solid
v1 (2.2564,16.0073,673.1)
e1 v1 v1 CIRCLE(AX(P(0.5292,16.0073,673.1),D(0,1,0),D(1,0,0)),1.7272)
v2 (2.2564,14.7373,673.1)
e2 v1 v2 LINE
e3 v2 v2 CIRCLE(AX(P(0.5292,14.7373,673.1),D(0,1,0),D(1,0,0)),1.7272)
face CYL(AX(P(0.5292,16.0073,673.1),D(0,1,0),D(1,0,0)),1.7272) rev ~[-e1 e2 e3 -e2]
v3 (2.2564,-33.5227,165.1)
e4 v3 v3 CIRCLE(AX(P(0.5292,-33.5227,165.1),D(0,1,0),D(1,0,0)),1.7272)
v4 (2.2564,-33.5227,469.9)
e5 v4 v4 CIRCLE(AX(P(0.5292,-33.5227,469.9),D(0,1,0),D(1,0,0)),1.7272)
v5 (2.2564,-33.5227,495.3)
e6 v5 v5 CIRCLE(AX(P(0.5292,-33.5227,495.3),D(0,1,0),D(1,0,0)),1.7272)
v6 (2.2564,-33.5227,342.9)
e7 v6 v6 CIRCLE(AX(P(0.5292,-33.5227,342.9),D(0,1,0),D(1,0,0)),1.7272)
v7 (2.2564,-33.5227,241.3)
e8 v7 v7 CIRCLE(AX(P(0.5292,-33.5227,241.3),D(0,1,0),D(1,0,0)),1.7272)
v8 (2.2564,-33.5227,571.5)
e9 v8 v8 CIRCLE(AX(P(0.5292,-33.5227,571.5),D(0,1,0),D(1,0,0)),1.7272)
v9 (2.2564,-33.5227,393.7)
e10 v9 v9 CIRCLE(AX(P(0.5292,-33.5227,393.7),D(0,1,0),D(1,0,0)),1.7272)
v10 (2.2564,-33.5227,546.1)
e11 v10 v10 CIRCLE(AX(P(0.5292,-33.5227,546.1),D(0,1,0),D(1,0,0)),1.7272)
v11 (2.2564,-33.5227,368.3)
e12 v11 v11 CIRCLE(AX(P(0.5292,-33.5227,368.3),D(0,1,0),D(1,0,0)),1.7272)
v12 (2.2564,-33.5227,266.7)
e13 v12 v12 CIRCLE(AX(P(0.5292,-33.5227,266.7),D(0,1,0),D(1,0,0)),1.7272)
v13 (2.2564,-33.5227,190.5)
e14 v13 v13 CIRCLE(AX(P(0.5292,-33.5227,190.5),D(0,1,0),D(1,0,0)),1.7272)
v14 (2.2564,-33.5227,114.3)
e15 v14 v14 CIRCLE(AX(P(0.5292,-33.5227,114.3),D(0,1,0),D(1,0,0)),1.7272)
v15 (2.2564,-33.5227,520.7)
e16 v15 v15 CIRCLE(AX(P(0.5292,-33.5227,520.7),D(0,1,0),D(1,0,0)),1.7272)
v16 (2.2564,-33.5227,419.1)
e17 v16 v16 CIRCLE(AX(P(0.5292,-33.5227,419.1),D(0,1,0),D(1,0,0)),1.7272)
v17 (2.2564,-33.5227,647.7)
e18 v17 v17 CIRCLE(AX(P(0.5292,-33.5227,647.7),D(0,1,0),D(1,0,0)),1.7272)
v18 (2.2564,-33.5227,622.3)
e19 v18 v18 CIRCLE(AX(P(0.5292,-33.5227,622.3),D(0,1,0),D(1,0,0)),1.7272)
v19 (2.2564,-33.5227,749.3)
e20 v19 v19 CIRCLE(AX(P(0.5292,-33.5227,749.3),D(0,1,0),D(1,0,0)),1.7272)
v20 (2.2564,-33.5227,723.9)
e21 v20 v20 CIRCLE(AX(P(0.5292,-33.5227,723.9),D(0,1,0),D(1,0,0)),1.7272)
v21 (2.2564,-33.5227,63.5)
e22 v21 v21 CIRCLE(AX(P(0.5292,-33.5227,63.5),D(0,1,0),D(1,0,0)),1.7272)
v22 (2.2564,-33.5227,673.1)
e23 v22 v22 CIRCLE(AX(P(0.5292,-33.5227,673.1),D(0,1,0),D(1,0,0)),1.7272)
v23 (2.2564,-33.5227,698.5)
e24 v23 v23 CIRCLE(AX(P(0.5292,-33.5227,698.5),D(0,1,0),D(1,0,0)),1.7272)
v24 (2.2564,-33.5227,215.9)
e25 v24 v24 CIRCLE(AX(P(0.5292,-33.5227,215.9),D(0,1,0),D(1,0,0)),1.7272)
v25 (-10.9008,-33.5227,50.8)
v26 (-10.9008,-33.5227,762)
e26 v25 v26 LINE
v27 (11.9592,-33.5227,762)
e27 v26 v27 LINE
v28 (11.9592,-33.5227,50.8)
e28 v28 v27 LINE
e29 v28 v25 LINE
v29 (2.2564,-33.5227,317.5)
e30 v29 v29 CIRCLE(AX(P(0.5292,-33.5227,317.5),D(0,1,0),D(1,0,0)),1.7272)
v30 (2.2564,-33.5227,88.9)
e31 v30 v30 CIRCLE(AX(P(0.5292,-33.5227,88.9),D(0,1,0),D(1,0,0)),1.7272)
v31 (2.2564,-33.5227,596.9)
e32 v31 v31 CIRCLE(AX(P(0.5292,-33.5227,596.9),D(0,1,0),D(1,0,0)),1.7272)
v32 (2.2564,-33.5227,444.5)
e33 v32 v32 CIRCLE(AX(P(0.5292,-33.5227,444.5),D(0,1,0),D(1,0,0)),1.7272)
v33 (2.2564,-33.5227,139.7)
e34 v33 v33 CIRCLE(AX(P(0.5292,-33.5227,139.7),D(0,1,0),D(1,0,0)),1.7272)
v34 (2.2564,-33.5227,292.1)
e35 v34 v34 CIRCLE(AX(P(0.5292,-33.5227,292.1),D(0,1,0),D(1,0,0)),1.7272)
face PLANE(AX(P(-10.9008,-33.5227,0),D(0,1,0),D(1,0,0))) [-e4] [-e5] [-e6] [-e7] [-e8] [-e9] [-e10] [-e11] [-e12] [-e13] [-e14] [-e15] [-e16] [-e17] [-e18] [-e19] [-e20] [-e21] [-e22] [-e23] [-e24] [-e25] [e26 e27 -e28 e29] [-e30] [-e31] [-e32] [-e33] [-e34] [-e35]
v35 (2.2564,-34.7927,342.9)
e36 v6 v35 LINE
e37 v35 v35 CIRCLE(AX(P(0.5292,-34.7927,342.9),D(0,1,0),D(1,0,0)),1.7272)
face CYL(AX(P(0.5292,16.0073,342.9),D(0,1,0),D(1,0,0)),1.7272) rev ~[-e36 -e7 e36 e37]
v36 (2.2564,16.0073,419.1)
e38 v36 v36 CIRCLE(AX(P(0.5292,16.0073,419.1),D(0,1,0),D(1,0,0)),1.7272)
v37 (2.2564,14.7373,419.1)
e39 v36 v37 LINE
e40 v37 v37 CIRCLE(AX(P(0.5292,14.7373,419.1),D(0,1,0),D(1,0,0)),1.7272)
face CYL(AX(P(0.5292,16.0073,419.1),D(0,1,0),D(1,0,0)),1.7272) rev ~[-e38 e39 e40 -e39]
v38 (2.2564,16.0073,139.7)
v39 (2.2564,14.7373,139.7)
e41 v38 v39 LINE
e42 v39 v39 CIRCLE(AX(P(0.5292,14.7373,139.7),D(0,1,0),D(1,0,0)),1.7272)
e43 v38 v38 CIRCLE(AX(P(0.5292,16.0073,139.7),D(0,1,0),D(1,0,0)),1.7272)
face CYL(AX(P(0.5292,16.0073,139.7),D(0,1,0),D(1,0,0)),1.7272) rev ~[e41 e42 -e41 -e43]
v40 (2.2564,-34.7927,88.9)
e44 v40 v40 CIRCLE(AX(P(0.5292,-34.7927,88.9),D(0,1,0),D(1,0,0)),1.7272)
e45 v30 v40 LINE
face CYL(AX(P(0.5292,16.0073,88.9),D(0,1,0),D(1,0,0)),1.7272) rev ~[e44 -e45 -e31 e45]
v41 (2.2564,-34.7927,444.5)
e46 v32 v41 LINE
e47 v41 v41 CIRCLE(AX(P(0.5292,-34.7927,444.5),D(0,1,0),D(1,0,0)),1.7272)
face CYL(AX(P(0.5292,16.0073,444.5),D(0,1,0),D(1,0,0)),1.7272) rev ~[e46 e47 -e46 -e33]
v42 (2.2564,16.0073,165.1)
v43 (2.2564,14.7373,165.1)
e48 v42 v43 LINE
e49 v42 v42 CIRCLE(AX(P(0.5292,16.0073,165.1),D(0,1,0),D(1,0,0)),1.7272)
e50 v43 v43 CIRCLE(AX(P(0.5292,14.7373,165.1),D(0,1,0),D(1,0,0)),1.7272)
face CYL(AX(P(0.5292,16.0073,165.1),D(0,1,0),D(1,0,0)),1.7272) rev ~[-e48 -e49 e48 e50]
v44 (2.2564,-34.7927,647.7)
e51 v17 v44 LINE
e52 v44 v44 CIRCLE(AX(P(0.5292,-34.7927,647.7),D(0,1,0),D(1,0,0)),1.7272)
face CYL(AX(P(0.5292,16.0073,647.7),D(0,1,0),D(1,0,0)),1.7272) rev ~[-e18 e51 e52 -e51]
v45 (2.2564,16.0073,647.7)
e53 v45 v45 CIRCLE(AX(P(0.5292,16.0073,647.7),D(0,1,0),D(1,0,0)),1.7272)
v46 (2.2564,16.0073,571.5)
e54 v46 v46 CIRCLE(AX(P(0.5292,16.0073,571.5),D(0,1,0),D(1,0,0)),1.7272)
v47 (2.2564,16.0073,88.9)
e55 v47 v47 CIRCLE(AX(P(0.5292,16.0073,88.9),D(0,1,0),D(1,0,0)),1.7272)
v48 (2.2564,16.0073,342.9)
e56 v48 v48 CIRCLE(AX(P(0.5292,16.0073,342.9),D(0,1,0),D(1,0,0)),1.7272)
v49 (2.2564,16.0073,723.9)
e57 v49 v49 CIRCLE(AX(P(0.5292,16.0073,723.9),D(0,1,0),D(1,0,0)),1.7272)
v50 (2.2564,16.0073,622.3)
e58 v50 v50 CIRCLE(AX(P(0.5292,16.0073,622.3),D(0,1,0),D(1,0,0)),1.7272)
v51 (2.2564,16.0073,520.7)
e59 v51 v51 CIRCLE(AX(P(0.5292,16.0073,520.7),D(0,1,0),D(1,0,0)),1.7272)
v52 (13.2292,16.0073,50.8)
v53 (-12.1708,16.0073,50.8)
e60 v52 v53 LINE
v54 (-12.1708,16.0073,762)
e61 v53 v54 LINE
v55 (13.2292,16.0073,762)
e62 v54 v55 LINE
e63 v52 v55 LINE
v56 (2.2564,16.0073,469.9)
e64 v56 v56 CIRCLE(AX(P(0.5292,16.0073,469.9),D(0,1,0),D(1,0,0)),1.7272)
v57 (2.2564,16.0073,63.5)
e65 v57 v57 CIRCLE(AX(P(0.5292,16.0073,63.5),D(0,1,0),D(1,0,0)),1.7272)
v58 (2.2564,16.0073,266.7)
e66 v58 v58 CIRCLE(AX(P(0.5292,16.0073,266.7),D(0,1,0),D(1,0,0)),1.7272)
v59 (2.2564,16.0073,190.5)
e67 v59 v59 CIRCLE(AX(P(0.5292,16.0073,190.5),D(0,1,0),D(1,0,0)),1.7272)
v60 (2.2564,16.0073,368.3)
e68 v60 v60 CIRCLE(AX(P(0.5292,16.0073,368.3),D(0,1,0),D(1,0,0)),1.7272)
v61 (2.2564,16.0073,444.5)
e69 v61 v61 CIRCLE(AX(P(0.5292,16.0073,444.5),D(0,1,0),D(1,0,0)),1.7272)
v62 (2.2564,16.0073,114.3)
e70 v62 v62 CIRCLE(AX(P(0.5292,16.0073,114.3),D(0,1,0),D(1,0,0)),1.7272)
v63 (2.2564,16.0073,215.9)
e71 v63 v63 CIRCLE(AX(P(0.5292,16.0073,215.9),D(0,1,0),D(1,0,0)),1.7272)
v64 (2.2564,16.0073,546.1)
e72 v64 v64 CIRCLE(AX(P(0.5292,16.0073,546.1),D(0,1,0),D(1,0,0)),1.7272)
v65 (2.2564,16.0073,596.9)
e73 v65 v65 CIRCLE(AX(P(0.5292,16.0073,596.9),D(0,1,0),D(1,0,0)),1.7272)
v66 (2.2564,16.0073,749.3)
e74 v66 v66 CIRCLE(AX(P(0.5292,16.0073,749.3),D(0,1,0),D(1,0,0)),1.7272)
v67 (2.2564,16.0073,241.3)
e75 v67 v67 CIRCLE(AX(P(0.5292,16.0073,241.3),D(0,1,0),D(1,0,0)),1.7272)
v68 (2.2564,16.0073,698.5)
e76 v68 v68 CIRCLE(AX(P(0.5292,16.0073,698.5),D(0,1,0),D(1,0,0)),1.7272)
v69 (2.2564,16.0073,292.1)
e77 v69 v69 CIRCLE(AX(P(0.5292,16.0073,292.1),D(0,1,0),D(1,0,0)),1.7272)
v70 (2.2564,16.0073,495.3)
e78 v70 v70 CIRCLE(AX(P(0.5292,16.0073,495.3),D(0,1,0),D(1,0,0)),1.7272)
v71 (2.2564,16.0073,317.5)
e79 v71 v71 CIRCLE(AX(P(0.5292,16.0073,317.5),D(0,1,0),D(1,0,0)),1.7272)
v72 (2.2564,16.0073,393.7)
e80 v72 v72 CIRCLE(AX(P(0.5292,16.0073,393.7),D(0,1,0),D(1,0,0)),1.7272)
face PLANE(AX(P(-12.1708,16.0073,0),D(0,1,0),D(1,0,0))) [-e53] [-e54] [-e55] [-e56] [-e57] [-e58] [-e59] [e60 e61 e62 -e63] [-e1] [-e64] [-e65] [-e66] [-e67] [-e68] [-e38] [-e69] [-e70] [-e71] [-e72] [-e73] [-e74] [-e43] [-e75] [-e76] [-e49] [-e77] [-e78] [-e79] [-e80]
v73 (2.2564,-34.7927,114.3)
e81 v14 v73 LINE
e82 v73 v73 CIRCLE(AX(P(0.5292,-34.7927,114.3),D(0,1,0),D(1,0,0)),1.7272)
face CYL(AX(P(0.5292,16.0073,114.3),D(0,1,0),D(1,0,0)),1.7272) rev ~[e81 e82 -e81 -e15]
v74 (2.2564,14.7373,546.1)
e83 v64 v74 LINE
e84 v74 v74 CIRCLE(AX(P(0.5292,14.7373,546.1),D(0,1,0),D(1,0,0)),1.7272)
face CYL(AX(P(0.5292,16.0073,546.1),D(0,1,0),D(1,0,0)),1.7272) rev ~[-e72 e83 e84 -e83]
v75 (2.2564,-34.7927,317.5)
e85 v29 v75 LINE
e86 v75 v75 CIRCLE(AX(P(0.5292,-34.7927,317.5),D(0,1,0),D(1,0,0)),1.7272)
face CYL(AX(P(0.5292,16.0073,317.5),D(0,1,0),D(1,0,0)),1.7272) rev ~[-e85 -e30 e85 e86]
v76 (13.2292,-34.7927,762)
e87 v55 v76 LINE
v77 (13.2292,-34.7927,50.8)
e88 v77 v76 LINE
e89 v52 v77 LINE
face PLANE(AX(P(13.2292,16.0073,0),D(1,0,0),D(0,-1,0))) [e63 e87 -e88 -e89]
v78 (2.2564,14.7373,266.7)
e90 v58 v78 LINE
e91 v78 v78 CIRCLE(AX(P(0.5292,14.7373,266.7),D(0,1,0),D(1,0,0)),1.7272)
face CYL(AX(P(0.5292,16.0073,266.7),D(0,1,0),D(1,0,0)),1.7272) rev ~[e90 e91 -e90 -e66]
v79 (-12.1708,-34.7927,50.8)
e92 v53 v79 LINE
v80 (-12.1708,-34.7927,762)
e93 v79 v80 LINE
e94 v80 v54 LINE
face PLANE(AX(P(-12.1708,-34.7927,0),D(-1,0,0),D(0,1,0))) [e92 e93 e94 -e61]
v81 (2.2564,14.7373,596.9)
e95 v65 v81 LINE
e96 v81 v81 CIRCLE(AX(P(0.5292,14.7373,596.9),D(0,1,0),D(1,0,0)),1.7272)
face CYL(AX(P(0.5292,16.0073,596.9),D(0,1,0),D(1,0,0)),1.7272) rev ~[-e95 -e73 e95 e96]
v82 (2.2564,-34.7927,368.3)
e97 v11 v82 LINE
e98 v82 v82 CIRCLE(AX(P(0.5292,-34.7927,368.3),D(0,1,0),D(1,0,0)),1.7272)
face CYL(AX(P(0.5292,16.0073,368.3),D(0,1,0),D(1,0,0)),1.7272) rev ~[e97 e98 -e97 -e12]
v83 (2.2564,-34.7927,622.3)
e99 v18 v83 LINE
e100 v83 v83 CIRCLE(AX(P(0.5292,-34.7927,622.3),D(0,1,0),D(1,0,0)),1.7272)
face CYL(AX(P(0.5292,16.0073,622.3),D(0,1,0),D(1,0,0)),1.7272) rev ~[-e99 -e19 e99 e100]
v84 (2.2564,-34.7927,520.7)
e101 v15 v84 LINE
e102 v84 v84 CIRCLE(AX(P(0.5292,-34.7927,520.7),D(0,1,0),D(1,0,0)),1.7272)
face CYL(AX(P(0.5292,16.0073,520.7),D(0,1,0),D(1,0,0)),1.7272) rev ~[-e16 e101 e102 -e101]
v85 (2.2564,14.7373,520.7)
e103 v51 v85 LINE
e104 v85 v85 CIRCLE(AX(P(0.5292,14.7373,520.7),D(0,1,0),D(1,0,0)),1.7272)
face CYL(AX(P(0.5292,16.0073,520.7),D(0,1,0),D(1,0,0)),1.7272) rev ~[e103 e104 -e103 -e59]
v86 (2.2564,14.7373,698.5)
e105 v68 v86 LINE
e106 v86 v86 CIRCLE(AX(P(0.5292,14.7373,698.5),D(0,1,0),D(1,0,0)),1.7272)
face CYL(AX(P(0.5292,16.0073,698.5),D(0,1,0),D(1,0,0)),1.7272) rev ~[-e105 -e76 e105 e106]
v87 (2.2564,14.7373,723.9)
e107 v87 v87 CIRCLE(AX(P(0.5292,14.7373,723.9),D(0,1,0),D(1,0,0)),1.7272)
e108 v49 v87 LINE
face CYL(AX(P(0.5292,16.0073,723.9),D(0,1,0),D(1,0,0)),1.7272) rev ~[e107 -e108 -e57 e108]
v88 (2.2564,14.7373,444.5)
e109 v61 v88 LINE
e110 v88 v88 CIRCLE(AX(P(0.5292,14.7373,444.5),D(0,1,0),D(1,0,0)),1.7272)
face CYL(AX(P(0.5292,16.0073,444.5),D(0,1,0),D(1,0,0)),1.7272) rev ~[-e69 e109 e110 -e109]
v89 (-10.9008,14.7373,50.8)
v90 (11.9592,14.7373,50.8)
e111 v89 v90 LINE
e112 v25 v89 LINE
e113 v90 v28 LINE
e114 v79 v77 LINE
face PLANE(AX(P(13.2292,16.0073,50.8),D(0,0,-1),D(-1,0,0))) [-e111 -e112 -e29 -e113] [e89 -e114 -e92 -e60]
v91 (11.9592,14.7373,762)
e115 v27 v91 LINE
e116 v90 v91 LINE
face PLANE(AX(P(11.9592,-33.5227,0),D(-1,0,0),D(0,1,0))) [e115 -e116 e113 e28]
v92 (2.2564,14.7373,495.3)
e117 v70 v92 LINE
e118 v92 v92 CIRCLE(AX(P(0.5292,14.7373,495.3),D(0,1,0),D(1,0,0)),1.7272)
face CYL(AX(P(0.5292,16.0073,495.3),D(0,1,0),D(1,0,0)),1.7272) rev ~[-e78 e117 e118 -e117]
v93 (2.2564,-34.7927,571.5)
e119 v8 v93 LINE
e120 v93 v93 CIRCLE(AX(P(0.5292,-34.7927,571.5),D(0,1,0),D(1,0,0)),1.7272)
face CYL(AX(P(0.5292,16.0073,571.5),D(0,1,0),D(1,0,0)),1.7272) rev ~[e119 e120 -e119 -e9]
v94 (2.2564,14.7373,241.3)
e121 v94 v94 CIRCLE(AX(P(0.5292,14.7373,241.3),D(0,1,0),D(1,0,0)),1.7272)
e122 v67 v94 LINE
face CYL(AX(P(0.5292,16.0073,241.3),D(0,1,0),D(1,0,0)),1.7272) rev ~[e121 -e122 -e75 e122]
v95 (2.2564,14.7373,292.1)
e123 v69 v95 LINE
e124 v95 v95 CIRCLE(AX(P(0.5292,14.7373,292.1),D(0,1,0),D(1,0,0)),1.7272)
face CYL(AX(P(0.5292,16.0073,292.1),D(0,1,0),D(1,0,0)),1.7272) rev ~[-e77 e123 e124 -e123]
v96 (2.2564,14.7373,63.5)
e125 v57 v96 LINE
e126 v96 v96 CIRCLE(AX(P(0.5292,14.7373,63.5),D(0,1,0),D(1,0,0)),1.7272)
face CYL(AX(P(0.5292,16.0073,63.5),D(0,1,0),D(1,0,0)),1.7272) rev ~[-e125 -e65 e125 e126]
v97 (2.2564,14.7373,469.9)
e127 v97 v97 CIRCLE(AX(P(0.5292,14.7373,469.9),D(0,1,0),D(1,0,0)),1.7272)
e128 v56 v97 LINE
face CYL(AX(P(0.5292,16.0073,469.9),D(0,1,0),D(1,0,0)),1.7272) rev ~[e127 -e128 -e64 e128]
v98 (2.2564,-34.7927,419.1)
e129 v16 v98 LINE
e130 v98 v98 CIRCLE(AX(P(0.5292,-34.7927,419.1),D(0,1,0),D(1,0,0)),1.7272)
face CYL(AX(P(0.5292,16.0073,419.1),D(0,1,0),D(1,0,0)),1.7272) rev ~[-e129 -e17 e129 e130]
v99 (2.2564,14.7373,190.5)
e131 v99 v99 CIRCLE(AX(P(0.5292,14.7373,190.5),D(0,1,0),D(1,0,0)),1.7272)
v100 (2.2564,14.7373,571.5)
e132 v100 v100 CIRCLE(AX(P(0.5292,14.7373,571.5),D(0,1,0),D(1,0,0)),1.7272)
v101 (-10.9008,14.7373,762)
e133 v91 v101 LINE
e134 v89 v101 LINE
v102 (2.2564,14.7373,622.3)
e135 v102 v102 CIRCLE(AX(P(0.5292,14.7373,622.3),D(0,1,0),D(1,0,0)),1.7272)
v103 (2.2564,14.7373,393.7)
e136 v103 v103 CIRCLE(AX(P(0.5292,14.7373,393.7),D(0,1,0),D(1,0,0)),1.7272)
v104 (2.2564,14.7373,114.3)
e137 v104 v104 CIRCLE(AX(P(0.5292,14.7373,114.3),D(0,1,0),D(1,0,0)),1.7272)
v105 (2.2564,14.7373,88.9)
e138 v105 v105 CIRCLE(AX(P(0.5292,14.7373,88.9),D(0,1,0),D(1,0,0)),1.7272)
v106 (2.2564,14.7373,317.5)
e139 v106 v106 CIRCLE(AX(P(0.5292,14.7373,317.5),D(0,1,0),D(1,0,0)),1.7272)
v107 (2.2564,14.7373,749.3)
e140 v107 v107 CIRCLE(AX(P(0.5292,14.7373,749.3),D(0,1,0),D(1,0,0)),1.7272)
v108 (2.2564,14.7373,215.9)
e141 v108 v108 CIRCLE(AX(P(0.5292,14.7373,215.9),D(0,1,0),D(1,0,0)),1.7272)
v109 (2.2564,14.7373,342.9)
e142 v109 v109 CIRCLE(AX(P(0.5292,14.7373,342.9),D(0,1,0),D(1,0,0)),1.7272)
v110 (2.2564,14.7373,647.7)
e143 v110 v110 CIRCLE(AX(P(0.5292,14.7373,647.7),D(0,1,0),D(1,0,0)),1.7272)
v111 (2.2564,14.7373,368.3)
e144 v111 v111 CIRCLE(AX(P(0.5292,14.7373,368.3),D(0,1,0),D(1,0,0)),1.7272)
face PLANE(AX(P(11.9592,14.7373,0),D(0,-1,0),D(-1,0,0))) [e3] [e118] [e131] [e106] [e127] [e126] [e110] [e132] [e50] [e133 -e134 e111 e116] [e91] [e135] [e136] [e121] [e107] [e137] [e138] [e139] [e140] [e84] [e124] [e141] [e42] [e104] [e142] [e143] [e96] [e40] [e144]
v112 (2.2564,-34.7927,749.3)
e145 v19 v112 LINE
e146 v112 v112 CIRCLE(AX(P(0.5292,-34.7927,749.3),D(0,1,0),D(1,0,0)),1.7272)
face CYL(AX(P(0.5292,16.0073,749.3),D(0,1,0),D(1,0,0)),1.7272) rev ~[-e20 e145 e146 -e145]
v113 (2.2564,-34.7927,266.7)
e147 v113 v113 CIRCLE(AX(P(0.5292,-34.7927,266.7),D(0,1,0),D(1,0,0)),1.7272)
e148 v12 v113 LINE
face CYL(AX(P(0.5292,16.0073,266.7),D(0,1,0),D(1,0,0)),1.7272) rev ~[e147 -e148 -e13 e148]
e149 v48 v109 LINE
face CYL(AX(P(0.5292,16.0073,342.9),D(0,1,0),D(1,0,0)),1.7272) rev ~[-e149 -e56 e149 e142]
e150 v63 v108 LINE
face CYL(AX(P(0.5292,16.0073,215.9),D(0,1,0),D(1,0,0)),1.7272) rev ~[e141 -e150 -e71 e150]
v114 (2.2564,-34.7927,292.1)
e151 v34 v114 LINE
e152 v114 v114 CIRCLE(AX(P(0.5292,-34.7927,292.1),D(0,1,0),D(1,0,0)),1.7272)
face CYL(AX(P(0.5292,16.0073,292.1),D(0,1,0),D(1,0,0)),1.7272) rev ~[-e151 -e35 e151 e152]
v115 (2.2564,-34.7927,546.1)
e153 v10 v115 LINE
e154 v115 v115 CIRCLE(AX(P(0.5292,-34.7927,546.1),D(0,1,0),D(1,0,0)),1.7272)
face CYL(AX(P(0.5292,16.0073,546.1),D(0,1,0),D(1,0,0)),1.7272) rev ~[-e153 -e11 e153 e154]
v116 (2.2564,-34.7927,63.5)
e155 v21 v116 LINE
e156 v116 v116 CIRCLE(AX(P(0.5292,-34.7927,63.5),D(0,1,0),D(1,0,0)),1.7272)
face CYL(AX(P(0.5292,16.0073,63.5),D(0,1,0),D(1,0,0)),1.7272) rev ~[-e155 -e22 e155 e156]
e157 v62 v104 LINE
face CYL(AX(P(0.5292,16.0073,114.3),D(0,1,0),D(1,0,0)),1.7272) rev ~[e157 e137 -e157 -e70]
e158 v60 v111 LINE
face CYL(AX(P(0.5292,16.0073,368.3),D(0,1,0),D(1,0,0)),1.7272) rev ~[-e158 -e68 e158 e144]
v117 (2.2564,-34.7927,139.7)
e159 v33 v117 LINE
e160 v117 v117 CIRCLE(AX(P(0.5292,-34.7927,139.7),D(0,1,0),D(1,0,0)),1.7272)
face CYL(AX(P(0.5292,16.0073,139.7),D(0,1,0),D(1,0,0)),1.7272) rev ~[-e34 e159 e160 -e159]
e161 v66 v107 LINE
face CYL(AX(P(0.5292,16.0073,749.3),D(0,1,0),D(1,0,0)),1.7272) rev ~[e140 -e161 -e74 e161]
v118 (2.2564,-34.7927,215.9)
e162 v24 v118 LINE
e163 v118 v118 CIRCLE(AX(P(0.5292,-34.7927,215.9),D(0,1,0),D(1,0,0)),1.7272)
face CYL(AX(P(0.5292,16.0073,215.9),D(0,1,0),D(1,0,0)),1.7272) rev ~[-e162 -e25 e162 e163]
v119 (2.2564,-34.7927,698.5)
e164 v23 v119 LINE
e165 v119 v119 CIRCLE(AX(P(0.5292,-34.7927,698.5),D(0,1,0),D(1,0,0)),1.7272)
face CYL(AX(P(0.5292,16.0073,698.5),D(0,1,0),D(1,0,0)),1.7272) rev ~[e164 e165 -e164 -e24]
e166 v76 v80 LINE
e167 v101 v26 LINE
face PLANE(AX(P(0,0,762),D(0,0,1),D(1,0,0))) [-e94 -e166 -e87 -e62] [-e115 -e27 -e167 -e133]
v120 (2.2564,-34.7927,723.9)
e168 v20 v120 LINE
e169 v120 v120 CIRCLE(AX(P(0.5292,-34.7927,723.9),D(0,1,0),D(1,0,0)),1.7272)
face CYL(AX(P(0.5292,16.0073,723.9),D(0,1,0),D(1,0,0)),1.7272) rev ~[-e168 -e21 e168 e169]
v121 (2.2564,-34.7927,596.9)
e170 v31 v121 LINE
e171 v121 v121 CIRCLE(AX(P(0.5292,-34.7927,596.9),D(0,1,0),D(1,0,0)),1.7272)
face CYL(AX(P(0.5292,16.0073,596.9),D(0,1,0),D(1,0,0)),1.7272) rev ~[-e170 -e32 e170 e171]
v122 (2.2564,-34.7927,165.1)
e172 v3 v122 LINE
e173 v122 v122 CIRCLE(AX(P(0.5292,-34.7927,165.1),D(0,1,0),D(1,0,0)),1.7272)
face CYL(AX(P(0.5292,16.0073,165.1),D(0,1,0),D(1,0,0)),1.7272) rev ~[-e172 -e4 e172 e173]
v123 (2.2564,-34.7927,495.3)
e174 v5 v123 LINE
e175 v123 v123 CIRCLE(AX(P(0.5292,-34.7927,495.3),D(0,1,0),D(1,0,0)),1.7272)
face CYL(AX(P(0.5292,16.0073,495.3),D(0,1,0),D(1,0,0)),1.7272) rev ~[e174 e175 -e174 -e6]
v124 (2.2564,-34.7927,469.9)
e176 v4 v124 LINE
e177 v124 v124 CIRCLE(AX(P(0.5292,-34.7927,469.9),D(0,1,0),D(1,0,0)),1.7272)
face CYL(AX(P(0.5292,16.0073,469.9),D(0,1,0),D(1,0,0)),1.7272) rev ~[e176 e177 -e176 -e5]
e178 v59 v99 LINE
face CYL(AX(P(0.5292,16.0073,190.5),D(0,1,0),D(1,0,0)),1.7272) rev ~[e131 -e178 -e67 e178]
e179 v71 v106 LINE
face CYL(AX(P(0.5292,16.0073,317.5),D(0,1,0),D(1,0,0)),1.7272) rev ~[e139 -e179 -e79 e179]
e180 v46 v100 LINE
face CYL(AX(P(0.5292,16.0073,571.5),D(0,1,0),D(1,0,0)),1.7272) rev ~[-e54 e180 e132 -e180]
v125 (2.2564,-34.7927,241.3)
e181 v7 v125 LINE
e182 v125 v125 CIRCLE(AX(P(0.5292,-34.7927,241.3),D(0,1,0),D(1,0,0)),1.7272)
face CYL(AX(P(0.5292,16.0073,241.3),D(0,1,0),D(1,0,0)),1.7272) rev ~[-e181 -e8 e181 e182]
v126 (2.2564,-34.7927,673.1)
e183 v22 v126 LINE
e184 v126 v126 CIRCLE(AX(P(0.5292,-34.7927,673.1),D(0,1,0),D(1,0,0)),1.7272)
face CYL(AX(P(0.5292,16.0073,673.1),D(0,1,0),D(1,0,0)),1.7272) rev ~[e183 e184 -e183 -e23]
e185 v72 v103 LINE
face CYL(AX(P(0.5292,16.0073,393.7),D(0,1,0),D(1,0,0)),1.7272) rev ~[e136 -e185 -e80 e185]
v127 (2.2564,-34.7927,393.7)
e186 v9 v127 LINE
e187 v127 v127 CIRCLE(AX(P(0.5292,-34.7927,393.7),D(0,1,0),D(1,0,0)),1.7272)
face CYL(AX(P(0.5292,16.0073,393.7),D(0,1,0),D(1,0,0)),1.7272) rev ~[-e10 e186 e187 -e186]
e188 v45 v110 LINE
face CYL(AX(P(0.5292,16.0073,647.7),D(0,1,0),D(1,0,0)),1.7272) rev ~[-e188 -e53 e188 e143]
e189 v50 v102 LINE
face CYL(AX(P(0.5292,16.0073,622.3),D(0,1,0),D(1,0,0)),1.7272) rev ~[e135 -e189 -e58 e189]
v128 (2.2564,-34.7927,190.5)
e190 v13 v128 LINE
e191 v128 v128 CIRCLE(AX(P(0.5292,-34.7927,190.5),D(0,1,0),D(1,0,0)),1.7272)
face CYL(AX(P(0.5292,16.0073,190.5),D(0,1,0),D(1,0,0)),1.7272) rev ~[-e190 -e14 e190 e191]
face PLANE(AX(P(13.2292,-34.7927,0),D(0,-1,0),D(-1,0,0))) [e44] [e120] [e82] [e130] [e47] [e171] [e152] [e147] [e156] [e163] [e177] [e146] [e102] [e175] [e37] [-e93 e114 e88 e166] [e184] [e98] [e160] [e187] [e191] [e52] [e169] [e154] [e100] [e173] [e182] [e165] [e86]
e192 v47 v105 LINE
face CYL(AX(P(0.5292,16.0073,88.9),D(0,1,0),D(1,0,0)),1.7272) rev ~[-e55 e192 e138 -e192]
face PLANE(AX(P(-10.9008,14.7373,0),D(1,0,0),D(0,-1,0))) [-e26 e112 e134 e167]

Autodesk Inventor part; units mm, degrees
ref_plane "YZ Plane" through (0, 0, 0) normal (1, 0, 0) x (0, 1, 0)
ref_plane "XZ Plane" through (0, 0, 0) normal (0, 1, 0) x (-1, 0, 0)
ref_plane "XY Plane" through (0, 0, 0) normal (0, 0, 1) x (1, 0, 0)
sketch "Sketch1" plane through (0, 0, 0) normal (0, 0, 1) x (1, 0, 0)
  line L0 (-12.1708, 16.0073) -> (13.2292, 16.0073)
  line L1 (13.2292, 16.0073) -> (13.2292, -34.7927)
  line L2 (13.2292, -34.7927) -> (-12.1708, -34.7927)
  line L3 (-12.1708, -34.7927) -> (-12.1708, 16.0073)
  line L4 (11.9592, 14.7373) -> (-10.9008, 14.7373)
  line L5 (-10.9008, 14.7373) -> (-10.9008, -33.5227)
  line L6 (-10.9008, -33.5227) -> (11.9592, -33.5227)
  line L7 (11.9592, -33.5227) -> (11.9592, 14.7373)
  point P0 (0, 0)
  dimension "d0" = 25.4
  dimension "d1" = 50.8
  dimension "d2" = 1.27
extrude "Extrusion1" add sketch "Sketch1" along normal blind 762
sketch "Sketch2" plane through (-12.1708, 16.0073, 0) normal (0, 1, 0) x (1, 0, 0)
  circle A0 centre (12.7, -12.7) radius 1.7272
  line L0 (25.4, 0) -> (0, 0) projected
  line L1 (0, 0) -> (0, -762) projected
  point P0 (12.1708, 0)
  dimension "d5" = 3.4544
  dimension "d6" = 12.7
  dimension "d7" = 12.7
extrude "Extrusion2" cut sketch "Sketch2" against normal through all
pattern_linear "Rectangular Pattern1" count 30 spacing 25.4 along (0, 0, 1) of "Extrusion2"
sketch "Sketch3" plane through (-12.1708, 16.0073, 0) normal (0, 1, 0) x (1, 0, 0)
  line L0 (0, 0) -> (25.4, 0)
  line L1 (25.4, 0) -> (25.4, -50.8)
  line L2 (25.4, -50.8) -> (0, -50.8)
  line L3 (0, -50.8) -> (0, 0)
  line L4 (25.4, 0) -> (0, 0) projected
  line L5 (0, 0) -> (0, -762) projected
  point P0 (12.1708, 0)
  dimension "d13" = 25.4
  dimension "d14" = 50.8
extrude "Extrusion3" cut sketch "Sketch3" against normal through all
properties part number "VerseFrame 28in"
